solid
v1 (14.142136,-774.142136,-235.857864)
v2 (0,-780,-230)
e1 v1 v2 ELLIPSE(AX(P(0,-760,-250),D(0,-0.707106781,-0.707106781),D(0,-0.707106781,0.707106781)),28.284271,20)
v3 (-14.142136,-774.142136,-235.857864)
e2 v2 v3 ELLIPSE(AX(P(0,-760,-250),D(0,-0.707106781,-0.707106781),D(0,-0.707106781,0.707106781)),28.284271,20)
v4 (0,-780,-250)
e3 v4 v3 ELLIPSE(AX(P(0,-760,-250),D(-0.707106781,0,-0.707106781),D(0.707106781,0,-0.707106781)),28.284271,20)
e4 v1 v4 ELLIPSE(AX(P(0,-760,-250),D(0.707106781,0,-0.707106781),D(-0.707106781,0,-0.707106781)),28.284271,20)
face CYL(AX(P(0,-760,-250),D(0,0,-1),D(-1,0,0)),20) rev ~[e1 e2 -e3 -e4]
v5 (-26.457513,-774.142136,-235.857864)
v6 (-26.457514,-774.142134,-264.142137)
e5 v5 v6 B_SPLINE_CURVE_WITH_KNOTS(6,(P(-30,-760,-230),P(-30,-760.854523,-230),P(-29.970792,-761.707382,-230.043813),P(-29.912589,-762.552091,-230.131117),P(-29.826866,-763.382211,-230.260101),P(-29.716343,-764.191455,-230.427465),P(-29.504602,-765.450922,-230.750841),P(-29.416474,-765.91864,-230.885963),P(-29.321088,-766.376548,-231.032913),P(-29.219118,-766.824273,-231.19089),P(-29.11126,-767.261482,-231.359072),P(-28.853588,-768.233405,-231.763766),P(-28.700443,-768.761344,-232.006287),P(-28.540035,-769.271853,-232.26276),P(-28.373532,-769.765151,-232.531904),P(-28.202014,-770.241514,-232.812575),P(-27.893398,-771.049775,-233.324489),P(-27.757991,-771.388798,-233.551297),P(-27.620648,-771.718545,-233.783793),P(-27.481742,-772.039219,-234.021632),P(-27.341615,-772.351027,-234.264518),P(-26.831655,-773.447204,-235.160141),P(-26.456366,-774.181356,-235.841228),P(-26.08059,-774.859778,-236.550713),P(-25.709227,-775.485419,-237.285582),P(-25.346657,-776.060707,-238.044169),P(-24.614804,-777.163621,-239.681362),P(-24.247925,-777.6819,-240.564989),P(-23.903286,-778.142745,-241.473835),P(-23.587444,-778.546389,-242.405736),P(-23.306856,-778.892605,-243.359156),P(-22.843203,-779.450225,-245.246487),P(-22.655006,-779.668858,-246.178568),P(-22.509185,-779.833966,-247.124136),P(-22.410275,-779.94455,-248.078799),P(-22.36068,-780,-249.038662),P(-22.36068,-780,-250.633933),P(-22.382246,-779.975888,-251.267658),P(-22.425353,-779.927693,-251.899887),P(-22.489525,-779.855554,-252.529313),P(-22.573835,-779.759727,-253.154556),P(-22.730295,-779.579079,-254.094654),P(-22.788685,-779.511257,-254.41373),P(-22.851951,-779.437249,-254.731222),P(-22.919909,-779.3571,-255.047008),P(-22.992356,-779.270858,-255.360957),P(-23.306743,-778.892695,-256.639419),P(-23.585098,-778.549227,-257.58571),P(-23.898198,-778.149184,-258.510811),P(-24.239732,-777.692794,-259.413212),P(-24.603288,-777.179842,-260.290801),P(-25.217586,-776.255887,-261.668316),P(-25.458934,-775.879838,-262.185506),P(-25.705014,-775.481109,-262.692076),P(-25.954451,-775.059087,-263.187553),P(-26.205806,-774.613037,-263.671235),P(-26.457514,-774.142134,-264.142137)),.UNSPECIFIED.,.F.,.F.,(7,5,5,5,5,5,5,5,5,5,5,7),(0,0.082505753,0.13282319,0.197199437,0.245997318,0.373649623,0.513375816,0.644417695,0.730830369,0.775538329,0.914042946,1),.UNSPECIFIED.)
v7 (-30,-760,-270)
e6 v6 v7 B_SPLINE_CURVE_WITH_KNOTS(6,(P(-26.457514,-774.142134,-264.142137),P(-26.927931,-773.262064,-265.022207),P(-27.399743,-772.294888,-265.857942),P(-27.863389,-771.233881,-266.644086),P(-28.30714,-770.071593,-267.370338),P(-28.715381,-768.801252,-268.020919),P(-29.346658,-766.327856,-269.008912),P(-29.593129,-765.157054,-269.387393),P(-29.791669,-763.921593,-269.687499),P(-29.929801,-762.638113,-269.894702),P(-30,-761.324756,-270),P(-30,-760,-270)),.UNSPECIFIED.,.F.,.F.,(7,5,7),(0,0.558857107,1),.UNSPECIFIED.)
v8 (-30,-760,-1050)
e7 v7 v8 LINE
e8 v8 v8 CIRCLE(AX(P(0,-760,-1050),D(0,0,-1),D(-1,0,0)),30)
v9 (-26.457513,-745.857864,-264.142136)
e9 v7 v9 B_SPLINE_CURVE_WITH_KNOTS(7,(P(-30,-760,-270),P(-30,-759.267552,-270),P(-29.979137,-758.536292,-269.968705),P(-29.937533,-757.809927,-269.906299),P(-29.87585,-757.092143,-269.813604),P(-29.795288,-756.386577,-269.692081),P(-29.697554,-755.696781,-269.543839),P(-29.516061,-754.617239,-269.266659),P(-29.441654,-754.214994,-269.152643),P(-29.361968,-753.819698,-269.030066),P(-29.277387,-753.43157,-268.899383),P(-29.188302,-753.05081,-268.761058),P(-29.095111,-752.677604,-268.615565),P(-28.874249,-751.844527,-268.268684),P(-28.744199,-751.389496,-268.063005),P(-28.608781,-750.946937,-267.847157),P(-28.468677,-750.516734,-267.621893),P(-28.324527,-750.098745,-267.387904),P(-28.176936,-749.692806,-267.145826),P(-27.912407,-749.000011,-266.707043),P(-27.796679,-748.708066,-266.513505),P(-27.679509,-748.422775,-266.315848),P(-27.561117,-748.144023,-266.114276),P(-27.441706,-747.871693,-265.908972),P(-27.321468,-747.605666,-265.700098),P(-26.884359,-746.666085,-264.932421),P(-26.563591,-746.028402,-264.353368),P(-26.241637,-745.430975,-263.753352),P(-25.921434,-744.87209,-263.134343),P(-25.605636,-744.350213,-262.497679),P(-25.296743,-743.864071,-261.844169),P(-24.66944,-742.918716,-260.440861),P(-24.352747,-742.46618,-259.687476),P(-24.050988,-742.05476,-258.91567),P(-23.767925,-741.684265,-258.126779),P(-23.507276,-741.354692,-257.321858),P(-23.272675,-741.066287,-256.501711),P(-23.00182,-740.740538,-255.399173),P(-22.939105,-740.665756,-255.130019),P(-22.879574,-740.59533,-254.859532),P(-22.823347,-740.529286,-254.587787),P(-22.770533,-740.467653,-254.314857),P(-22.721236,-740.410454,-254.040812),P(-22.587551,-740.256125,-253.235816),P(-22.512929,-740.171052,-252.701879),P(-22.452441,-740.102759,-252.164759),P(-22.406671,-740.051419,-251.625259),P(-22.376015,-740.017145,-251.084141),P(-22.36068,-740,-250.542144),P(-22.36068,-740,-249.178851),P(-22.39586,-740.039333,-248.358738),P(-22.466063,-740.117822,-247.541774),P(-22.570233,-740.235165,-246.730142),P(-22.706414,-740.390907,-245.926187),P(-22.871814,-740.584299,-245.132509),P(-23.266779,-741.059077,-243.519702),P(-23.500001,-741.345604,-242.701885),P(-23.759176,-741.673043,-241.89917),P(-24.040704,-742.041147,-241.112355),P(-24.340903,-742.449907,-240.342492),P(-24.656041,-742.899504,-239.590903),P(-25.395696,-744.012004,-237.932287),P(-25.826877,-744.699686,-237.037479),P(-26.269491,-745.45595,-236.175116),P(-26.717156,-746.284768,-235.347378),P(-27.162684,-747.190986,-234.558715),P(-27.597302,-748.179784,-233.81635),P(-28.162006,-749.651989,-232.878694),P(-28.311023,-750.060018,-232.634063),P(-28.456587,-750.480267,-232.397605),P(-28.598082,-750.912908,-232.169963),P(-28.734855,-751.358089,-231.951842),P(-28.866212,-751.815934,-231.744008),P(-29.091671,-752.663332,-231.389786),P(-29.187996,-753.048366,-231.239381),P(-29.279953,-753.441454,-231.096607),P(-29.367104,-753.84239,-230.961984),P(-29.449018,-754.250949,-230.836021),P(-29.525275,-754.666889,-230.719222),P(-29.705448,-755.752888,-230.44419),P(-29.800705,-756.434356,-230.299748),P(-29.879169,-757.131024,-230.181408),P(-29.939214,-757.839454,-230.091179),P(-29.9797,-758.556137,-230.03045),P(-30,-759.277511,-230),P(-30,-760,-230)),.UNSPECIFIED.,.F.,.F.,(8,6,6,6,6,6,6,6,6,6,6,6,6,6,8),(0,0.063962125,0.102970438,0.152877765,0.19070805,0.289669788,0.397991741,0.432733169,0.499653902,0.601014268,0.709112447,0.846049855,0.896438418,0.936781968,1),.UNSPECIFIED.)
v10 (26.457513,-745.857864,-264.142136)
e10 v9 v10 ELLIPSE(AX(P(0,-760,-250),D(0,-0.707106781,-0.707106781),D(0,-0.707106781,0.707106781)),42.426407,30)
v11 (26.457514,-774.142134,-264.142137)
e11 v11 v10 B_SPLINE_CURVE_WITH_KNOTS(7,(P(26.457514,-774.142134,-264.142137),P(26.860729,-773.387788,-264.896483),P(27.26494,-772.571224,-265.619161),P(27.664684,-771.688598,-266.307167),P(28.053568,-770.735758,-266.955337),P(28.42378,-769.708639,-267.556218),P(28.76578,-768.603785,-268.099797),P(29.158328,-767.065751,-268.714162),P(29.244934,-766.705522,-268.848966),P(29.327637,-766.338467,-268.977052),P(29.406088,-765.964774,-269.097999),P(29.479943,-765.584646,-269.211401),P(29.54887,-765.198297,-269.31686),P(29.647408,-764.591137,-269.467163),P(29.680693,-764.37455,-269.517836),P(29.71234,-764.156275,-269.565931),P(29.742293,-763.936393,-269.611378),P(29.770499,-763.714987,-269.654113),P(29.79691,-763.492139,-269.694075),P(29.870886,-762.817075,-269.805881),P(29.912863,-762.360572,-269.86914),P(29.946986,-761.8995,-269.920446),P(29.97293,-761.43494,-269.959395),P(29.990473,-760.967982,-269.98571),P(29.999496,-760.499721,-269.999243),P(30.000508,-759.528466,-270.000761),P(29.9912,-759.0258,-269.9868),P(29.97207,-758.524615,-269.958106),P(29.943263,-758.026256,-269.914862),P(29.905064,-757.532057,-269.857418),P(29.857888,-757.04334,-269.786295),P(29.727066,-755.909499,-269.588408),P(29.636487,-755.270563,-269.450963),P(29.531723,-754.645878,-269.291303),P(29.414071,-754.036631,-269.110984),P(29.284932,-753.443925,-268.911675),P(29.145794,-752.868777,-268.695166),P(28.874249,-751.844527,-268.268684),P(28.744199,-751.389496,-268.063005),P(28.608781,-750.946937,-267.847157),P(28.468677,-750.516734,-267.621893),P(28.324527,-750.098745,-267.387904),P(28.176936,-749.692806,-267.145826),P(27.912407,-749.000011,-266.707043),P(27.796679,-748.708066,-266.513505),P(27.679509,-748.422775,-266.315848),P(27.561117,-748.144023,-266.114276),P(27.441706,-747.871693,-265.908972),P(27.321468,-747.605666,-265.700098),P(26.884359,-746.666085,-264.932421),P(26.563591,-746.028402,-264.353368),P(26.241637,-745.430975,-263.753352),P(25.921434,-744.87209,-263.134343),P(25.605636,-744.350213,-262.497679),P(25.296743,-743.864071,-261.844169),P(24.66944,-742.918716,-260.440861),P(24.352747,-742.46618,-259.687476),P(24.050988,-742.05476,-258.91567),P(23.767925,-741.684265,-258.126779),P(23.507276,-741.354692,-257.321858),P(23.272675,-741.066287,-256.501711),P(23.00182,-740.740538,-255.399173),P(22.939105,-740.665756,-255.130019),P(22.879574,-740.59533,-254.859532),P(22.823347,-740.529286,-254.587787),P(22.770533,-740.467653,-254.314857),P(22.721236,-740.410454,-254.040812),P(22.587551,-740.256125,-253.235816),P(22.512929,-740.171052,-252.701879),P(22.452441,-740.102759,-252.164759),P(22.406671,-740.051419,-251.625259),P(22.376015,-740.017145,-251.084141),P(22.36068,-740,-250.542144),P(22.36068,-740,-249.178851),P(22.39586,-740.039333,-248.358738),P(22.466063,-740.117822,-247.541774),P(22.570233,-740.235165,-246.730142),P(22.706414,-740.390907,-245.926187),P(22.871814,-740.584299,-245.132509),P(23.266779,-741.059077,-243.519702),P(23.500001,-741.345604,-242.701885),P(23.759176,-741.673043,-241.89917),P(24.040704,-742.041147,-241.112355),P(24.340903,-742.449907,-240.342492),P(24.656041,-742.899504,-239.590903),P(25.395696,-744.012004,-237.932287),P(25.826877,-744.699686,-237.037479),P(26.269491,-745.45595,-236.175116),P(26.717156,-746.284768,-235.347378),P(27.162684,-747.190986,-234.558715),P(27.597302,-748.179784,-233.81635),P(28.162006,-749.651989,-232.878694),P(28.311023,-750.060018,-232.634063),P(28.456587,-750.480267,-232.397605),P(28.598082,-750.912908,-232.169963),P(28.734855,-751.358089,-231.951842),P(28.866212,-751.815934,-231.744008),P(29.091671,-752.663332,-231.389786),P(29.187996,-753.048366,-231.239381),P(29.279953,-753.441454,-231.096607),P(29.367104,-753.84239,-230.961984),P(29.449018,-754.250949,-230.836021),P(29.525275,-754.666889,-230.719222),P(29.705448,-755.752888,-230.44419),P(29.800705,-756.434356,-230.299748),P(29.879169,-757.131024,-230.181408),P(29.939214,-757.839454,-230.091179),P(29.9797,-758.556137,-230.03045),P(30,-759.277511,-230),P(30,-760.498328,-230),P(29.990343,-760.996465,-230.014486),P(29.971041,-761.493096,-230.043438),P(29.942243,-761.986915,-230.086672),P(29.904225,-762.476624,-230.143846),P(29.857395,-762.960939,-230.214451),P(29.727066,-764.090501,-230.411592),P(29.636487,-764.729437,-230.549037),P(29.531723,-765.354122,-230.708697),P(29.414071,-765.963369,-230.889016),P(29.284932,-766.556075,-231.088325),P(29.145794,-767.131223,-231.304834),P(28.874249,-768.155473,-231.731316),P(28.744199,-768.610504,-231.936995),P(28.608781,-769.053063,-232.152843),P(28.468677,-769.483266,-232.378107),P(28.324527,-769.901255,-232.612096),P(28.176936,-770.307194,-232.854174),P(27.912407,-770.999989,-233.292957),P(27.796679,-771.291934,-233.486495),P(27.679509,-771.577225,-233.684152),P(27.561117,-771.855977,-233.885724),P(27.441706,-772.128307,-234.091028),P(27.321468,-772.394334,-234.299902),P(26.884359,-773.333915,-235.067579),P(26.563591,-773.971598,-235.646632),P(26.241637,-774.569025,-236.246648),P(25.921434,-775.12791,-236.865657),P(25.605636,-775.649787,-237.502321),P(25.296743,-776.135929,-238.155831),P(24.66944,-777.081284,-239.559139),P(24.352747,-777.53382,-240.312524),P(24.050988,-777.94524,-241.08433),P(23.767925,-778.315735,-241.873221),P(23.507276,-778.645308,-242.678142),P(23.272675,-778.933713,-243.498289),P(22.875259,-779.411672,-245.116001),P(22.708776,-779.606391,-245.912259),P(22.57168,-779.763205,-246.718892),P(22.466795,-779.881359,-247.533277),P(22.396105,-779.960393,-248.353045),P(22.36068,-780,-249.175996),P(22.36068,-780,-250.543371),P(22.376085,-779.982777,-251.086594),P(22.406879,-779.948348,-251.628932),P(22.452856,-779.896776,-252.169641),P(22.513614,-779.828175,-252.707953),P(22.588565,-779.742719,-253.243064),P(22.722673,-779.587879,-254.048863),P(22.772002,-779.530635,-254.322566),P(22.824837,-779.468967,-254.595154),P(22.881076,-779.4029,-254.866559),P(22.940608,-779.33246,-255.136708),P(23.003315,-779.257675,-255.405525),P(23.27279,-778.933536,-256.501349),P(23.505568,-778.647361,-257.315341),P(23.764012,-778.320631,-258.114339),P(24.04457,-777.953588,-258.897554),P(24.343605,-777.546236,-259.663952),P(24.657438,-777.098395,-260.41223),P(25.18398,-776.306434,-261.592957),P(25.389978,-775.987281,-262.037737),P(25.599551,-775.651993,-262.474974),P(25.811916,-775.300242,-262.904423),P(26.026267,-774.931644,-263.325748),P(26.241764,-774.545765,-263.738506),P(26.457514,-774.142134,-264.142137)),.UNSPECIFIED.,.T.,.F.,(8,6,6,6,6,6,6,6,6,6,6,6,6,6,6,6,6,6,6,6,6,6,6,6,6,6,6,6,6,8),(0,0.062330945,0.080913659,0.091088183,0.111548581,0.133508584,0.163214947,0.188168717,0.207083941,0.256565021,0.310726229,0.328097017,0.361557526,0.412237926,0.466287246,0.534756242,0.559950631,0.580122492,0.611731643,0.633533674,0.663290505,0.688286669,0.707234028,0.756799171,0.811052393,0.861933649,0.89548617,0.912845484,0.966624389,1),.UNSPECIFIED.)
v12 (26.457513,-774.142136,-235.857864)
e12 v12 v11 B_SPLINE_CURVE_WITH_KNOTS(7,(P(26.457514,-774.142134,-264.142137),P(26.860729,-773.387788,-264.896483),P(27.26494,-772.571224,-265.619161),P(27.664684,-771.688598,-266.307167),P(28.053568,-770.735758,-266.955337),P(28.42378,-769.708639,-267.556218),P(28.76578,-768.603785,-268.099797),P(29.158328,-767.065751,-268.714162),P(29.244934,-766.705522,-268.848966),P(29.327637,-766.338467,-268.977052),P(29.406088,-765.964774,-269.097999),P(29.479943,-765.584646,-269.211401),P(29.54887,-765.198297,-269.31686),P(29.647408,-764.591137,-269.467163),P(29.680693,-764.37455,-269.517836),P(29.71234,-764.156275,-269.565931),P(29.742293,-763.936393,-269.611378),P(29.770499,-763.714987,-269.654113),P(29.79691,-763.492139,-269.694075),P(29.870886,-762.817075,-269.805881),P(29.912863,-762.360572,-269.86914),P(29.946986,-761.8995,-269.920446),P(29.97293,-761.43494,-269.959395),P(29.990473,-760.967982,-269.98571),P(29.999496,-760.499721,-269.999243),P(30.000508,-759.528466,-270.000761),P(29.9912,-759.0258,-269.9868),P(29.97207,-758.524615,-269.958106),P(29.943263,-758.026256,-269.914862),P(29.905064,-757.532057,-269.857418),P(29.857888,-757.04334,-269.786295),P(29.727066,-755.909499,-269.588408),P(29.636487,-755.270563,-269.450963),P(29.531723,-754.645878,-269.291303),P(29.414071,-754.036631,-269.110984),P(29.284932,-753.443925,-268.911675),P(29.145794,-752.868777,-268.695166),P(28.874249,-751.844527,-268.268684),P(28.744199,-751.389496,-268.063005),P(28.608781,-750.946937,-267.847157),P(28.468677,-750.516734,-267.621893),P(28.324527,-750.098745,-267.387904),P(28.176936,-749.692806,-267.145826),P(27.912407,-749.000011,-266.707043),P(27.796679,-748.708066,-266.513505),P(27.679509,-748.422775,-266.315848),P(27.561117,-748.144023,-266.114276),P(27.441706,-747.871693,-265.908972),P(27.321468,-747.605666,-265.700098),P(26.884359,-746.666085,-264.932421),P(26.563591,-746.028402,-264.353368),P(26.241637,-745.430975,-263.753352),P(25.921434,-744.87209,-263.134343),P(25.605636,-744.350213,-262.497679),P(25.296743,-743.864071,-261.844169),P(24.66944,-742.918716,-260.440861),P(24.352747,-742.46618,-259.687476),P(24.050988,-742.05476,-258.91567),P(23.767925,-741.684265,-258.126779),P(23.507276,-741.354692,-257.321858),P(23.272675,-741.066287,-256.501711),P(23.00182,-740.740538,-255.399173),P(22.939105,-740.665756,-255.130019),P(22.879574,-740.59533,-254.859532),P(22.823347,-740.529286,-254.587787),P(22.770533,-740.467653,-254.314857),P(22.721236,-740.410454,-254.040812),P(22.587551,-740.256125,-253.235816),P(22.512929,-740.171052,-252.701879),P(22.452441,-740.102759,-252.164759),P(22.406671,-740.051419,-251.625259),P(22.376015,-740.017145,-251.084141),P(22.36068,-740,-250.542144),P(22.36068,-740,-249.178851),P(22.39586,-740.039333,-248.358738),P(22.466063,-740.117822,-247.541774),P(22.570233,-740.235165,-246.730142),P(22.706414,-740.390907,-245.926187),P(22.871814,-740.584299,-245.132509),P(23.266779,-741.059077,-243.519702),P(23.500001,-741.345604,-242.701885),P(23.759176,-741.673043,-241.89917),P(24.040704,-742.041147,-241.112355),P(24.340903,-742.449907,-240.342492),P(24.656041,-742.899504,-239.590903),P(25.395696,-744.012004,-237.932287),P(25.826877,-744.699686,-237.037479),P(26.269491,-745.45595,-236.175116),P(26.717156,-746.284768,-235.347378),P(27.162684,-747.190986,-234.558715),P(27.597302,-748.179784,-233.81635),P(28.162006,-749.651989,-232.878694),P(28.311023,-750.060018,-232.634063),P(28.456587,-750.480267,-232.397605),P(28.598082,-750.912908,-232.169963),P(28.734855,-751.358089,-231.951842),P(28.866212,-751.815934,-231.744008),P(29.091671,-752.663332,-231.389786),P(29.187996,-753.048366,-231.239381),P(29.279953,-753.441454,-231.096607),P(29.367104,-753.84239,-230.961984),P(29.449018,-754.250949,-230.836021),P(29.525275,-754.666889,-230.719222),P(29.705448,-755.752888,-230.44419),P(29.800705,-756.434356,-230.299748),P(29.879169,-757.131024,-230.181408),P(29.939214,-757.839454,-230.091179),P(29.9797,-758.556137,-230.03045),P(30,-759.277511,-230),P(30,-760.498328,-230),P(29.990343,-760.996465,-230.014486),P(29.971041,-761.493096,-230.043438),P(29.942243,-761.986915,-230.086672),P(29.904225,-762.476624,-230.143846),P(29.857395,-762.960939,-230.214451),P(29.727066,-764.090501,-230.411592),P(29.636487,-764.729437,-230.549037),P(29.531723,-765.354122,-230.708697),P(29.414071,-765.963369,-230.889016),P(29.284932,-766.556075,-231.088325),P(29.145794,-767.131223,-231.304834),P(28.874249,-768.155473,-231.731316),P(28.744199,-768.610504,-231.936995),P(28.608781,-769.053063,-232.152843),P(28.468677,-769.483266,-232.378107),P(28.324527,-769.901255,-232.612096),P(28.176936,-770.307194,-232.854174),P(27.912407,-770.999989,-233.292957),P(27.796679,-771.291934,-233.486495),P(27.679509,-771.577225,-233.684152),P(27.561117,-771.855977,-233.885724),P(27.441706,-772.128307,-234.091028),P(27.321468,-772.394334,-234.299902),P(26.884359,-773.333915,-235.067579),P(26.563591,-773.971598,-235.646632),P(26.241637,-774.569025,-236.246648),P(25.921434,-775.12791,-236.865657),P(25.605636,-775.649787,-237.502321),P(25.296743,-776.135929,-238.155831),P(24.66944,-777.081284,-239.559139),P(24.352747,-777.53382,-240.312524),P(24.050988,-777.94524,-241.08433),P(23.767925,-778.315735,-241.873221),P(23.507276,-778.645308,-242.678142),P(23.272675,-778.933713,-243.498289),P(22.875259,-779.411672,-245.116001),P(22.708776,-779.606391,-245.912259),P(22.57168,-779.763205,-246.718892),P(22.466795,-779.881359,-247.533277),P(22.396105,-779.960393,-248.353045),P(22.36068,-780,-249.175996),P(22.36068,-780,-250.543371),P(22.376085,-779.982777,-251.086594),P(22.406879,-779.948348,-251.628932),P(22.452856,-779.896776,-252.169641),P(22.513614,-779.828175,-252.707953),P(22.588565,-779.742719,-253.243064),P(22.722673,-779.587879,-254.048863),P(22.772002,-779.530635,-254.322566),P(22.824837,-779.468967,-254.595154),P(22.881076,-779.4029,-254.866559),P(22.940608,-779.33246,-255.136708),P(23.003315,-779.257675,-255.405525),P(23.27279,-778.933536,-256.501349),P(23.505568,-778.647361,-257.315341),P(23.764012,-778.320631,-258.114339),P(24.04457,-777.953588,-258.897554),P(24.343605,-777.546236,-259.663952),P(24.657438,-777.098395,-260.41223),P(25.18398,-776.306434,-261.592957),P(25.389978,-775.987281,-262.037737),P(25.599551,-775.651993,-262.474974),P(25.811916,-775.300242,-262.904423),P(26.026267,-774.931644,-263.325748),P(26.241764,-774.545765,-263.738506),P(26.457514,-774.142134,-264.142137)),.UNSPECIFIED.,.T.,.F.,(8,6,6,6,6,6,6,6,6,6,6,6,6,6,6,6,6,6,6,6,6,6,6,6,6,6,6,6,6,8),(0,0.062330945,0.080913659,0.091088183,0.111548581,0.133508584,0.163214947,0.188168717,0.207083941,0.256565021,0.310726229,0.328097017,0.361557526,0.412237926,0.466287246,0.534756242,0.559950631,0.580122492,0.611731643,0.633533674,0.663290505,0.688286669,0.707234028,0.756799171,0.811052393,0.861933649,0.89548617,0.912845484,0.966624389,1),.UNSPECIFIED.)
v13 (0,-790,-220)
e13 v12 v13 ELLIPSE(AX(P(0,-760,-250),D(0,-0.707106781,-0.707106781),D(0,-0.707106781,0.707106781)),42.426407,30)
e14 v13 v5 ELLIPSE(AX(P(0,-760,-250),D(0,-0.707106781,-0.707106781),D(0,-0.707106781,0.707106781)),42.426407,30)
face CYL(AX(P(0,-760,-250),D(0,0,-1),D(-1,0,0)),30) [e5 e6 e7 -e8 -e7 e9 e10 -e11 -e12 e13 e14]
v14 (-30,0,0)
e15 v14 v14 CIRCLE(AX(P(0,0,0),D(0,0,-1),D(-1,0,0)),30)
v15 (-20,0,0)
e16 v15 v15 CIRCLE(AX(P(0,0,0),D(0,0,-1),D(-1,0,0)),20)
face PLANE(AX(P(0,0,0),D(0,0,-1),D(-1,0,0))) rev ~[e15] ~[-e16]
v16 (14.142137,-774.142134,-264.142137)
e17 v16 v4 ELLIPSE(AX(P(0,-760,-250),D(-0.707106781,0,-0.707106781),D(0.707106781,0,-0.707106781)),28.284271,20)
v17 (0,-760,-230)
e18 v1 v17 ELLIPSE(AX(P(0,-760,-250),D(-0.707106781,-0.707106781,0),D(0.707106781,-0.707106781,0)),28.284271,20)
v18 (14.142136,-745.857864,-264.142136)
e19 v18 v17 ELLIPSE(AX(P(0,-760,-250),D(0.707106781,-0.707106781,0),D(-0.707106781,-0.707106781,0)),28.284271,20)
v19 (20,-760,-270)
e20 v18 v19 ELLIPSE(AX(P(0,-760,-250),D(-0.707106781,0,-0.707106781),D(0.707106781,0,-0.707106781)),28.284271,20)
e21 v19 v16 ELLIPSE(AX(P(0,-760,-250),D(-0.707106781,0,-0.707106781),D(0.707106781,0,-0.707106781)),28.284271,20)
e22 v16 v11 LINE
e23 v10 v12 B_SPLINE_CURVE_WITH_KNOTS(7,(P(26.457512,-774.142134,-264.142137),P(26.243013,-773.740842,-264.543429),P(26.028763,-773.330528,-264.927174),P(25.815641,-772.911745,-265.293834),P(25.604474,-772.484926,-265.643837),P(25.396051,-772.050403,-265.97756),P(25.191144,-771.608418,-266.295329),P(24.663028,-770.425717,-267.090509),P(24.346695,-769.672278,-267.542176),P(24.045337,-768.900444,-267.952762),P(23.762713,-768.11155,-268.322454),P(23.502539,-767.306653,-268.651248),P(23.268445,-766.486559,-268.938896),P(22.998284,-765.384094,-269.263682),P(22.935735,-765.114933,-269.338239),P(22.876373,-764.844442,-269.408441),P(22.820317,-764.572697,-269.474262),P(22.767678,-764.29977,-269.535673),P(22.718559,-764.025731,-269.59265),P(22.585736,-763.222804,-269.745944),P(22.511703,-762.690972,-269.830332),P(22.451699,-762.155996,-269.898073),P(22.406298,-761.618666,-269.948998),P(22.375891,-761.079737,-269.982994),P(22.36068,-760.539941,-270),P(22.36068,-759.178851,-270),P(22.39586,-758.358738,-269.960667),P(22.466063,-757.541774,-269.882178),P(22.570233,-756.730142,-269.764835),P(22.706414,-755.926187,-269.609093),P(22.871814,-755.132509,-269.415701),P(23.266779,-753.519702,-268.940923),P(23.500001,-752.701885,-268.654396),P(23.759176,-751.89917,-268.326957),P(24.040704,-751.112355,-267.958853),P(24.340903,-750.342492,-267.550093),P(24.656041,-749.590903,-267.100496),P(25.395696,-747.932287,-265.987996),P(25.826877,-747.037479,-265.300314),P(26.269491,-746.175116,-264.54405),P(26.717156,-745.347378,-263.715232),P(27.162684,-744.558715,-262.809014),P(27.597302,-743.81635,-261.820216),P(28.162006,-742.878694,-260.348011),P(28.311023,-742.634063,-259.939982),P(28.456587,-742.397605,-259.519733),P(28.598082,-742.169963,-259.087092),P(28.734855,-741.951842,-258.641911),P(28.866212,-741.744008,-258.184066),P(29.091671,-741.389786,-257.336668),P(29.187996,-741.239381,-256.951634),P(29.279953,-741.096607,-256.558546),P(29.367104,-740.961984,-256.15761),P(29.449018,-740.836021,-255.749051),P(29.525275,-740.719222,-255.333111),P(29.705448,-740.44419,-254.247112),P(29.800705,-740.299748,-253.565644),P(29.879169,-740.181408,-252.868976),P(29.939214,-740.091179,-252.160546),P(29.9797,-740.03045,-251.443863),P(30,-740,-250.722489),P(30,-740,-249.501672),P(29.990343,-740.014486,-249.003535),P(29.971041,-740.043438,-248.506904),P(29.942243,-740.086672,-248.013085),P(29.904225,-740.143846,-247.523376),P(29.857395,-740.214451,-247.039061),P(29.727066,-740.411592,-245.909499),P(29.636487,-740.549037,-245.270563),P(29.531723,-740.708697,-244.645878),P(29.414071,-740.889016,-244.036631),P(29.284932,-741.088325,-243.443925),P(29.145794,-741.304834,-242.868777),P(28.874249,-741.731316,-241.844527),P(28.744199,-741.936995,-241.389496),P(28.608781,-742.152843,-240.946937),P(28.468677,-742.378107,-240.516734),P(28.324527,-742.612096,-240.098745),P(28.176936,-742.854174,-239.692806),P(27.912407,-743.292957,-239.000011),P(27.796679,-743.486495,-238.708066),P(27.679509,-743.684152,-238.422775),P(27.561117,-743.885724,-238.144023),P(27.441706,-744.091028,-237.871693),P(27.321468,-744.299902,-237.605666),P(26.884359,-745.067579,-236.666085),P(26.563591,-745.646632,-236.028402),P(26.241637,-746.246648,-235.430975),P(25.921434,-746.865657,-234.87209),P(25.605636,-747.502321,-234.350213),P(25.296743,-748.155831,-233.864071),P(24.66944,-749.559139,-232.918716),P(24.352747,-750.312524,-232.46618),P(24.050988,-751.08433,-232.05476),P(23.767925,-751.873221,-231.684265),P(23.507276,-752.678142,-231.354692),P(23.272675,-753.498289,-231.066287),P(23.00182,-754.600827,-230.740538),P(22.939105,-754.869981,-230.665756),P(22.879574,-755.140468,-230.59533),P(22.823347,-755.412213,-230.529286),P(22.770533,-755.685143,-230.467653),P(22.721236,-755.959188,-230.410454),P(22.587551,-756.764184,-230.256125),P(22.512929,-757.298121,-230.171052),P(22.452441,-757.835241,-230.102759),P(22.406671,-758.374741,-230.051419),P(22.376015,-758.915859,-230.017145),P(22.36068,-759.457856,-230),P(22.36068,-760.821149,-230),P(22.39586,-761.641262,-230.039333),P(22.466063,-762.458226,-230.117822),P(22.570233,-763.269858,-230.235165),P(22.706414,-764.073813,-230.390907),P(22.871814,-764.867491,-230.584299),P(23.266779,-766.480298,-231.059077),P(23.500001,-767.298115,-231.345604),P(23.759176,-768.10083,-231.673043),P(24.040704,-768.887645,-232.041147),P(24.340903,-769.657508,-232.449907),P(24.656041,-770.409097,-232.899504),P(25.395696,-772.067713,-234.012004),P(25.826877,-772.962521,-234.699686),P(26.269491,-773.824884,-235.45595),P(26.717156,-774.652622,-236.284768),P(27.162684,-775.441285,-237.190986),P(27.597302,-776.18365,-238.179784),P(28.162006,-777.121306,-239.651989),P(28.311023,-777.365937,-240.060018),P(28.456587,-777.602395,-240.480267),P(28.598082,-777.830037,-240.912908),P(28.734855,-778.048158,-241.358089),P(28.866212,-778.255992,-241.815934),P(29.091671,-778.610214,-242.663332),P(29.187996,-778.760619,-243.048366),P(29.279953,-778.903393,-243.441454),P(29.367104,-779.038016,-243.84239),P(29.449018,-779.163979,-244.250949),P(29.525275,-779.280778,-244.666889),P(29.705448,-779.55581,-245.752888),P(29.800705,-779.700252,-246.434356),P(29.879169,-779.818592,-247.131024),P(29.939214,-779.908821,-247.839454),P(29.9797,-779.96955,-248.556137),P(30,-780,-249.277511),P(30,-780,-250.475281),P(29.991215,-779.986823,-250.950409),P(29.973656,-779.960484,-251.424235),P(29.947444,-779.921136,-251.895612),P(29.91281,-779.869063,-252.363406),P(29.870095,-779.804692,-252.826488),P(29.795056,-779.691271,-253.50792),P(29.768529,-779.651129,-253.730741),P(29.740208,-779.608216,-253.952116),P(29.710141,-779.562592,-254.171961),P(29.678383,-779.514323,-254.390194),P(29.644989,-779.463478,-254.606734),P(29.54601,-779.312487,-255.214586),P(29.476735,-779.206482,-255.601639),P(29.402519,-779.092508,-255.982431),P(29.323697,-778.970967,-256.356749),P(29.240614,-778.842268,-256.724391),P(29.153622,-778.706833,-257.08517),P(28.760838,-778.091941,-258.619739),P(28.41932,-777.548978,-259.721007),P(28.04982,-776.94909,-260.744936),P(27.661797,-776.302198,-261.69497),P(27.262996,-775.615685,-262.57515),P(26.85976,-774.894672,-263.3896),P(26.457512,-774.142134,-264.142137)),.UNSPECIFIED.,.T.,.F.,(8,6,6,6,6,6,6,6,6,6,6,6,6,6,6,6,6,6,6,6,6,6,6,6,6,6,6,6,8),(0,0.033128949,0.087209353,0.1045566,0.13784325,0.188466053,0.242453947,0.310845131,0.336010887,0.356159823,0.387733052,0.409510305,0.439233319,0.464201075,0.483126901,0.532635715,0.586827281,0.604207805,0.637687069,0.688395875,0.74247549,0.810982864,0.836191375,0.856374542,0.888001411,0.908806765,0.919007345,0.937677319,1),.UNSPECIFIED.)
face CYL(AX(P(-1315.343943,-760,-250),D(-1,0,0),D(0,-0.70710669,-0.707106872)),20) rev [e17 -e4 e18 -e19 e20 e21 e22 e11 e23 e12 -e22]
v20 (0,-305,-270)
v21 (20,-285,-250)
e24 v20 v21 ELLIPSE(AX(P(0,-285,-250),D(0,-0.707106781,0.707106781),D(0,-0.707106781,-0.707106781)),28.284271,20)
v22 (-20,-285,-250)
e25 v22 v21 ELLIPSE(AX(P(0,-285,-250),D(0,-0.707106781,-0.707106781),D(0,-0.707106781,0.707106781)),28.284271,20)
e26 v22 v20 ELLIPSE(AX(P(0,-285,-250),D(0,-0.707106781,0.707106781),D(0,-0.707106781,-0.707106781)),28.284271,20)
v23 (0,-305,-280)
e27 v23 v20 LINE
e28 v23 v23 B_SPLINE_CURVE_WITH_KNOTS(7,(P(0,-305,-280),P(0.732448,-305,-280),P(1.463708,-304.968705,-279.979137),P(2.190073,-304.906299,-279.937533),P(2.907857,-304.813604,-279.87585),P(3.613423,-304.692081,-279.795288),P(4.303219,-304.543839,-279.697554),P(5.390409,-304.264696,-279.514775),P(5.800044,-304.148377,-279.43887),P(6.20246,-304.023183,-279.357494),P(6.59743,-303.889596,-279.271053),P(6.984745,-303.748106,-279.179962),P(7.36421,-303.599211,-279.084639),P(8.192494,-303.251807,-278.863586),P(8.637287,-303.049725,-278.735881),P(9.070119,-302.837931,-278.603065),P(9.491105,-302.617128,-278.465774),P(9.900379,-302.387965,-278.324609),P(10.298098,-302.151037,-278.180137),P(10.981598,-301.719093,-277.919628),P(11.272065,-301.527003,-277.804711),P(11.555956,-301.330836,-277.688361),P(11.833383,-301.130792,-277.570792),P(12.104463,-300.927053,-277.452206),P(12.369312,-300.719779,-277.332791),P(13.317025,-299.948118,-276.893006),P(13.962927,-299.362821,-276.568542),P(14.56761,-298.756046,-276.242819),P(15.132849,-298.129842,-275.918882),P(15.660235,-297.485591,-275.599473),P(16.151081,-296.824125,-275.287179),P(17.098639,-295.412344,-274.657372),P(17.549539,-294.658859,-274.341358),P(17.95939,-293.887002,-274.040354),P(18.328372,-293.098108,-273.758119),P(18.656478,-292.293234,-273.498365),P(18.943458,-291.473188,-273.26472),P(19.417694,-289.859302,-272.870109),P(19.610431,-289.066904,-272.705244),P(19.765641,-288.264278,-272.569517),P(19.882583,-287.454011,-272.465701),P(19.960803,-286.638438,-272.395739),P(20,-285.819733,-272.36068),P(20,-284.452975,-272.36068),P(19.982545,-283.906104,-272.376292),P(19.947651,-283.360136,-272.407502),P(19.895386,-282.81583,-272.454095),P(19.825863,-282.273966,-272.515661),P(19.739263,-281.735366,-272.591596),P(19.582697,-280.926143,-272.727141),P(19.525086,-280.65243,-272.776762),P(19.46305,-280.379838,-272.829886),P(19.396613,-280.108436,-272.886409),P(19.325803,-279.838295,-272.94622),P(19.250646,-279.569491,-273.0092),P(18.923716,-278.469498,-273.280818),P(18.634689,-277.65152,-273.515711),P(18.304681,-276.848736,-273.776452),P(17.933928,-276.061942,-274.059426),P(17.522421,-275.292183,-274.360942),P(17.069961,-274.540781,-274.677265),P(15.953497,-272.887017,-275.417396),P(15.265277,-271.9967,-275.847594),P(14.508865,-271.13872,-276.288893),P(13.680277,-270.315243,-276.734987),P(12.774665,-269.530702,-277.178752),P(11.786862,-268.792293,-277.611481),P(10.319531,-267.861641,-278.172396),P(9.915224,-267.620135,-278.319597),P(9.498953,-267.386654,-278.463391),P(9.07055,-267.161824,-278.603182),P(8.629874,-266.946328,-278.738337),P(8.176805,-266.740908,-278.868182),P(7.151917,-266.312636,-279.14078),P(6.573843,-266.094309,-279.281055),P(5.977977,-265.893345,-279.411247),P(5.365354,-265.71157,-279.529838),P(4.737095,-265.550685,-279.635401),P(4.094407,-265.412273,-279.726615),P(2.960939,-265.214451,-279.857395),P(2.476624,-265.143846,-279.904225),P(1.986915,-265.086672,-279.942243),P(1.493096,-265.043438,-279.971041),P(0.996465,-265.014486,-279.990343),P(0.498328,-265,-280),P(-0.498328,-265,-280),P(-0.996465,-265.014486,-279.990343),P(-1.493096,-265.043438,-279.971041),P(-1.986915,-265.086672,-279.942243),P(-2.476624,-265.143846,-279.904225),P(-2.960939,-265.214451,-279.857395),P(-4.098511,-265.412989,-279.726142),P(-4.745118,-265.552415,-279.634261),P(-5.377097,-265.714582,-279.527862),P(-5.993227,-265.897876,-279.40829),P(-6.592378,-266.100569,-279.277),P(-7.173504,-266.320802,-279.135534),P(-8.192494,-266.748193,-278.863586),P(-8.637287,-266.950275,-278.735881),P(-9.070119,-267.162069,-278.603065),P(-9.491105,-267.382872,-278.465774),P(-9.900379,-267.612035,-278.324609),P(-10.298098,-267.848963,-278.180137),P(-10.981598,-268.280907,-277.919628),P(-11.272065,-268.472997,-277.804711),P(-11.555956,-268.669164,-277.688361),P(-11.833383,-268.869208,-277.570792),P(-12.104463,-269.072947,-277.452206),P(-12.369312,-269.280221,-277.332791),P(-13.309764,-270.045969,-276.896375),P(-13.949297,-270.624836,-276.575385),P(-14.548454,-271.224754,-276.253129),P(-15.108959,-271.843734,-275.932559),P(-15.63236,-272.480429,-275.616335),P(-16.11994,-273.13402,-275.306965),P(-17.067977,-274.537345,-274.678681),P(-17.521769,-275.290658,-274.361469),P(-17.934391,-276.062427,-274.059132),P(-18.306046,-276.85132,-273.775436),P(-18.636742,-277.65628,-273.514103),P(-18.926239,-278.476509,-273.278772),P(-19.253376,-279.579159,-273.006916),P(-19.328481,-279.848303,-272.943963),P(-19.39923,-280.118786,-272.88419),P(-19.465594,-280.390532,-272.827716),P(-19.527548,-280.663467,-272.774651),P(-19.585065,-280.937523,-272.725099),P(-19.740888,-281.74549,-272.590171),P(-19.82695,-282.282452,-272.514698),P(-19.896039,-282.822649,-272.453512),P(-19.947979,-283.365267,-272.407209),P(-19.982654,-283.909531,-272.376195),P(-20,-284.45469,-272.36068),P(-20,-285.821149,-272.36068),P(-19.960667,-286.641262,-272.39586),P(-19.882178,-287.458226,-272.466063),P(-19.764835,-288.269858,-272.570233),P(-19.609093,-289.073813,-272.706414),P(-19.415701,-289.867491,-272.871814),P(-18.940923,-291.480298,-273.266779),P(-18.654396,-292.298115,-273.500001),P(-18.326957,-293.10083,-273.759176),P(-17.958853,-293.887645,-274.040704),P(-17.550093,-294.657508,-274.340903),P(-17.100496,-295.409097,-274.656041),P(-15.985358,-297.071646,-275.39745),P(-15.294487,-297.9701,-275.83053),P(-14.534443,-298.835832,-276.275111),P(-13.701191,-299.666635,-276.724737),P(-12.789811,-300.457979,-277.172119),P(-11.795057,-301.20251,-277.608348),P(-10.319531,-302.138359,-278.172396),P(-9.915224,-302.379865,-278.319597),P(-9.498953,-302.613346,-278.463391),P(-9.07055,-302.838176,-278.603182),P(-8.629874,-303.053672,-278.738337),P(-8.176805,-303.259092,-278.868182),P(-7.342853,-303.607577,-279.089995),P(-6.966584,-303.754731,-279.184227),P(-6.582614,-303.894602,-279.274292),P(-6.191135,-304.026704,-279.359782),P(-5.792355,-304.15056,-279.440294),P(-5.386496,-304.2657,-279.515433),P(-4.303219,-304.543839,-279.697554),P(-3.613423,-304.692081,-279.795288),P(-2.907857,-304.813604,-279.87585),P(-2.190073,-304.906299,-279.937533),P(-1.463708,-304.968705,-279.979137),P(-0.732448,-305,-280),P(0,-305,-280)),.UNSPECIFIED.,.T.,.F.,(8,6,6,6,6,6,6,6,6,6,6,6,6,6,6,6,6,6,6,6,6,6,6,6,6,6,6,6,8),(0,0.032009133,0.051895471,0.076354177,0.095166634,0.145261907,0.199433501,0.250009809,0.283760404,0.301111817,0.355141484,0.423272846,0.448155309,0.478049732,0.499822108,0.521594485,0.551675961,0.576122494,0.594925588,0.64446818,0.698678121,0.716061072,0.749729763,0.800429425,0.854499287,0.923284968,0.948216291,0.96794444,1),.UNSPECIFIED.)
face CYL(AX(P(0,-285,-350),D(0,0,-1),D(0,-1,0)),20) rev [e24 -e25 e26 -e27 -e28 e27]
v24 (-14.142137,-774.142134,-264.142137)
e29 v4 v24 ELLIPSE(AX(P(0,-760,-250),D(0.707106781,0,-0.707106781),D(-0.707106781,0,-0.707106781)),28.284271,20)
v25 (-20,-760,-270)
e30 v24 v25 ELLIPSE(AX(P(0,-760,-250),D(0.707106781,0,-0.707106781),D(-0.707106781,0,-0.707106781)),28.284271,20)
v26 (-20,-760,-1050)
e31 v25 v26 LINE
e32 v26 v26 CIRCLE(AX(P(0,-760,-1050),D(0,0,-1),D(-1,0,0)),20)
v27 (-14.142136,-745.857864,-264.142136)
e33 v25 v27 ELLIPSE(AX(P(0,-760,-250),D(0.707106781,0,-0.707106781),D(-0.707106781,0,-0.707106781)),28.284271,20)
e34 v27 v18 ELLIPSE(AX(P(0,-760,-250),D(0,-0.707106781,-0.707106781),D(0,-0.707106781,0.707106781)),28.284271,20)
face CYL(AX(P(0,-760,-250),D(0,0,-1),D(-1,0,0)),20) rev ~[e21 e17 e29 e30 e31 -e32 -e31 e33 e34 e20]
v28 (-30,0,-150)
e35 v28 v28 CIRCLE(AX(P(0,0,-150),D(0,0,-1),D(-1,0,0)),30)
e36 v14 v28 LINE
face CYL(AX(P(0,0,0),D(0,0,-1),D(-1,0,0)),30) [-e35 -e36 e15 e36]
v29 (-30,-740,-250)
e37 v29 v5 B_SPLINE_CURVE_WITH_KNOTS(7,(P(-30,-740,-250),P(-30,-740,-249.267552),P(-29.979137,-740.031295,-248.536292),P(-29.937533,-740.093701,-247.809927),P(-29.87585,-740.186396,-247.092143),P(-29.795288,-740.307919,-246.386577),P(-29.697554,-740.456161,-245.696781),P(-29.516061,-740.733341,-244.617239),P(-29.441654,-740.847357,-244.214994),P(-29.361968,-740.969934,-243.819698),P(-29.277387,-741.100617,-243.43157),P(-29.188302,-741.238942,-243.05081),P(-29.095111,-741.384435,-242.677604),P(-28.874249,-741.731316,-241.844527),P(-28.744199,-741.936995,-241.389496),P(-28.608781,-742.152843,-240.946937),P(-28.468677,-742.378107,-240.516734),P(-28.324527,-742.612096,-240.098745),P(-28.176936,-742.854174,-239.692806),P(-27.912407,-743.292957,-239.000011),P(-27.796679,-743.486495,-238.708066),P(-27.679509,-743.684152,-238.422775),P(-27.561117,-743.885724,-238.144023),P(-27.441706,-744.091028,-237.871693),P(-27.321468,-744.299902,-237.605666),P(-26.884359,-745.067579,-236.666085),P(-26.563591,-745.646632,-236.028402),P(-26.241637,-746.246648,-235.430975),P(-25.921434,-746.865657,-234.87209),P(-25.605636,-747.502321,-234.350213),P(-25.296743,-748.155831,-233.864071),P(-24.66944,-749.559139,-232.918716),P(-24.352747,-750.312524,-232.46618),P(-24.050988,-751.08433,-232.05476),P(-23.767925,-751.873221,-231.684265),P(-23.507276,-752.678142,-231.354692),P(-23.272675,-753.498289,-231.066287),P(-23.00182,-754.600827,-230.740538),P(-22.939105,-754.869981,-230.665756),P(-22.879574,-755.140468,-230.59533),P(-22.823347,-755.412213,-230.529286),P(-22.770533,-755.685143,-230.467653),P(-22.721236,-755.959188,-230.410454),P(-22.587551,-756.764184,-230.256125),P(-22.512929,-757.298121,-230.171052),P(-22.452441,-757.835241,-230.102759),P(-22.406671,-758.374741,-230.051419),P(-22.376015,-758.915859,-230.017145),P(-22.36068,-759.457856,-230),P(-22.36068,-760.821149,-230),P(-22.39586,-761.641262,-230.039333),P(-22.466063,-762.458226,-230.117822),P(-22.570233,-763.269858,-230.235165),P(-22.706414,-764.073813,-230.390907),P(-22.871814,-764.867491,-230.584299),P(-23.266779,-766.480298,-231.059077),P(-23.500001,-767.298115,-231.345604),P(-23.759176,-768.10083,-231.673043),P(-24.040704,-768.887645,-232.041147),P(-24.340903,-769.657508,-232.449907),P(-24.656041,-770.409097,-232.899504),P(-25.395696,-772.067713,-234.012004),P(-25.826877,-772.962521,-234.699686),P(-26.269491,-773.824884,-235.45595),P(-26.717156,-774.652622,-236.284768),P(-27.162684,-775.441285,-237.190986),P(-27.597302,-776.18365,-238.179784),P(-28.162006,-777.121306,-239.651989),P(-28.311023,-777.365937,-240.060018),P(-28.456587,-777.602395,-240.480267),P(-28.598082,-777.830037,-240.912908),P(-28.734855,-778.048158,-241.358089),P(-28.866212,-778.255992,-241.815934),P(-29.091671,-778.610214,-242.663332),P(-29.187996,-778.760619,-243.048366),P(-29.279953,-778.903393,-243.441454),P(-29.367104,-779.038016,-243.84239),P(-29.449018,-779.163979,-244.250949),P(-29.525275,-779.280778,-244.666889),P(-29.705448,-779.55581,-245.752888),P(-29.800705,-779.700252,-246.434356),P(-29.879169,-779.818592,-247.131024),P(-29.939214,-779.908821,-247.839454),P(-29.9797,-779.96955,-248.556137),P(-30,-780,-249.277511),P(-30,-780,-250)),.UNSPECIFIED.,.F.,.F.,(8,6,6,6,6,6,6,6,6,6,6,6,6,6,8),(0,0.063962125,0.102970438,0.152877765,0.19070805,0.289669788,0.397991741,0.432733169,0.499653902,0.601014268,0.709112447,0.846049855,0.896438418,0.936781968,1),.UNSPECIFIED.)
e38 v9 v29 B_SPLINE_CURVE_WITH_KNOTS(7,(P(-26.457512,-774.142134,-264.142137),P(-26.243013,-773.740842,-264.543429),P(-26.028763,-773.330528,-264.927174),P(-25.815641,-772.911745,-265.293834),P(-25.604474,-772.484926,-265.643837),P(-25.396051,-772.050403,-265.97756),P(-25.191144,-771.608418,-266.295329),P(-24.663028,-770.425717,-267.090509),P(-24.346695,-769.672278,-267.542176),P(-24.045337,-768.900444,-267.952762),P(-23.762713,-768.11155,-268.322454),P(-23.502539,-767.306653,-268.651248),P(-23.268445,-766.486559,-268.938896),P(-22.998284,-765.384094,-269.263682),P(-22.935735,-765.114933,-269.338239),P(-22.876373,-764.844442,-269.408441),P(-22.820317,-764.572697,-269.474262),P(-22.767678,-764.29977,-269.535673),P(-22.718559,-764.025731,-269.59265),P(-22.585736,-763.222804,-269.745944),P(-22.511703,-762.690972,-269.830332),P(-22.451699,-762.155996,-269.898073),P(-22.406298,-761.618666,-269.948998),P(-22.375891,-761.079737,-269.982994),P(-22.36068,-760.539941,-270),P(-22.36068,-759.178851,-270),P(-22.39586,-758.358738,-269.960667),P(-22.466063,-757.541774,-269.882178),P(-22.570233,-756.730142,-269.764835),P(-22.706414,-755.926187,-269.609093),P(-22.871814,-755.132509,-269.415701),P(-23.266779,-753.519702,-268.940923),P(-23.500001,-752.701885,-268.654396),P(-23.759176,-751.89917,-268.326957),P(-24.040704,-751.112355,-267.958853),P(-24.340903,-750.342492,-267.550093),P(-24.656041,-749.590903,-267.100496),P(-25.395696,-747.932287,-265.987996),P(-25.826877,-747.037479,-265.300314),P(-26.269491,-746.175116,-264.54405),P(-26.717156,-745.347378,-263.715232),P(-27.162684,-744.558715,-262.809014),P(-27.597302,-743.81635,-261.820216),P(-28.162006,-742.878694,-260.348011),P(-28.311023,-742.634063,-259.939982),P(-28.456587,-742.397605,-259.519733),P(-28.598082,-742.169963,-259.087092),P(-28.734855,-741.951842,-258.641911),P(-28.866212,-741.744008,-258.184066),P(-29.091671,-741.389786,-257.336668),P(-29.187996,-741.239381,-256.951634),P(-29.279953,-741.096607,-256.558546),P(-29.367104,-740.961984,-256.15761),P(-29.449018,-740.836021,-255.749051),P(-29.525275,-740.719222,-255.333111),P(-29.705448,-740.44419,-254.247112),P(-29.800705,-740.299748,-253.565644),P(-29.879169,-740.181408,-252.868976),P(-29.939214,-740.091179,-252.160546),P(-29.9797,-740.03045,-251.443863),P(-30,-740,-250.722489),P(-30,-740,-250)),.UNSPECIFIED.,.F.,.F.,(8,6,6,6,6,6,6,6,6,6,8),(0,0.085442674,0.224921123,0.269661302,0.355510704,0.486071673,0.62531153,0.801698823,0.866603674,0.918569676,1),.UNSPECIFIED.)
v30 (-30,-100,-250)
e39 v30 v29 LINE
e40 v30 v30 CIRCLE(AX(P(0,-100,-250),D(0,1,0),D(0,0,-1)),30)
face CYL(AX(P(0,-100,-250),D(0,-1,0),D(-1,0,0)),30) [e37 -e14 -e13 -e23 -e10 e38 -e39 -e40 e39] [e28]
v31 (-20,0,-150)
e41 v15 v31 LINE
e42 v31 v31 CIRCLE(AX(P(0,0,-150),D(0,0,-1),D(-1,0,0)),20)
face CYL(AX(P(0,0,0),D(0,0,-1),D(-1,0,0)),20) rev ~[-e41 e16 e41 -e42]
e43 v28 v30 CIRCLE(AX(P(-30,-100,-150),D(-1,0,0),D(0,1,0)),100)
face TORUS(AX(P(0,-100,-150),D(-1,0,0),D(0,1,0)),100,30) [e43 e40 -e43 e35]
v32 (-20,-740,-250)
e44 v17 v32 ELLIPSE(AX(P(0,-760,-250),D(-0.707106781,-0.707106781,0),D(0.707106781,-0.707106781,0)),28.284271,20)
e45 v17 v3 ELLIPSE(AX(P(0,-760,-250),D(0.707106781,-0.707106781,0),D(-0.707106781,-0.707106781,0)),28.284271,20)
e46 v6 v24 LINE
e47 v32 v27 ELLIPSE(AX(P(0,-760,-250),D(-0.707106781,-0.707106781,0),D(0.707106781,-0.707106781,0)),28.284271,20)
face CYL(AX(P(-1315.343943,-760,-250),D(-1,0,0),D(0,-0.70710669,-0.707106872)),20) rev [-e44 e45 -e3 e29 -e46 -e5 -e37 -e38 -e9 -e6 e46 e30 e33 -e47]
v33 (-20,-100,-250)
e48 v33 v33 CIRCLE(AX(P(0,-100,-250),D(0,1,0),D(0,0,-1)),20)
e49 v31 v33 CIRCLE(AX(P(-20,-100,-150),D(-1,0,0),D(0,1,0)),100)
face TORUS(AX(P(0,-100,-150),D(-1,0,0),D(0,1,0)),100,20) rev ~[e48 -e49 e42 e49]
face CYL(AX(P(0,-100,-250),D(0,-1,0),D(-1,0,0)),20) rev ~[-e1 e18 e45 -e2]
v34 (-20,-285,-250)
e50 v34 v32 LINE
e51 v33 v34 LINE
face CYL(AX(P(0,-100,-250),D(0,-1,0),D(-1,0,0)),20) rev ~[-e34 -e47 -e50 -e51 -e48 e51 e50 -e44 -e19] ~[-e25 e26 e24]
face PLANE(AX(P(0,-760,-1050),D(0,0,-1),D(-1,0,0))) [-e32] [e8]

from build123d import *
from OCP.BRepAlgoAPI import BRepAlgoAPI_Cut
from OCP.TopTools import TopTools_ListOfShape

# Parameters (mm, degrees)
SWEEP_THIN1_PROFILE_R   = 30
SWEEP_THIN1_PROFILE_R_2 = 20
CUT_EXTRUDE1_DEPTH      = 1315.343942812
CUT_EXTRUDE1_DEPTH_BACK = 1315.343942812
SKETCH18_R              = 20
SKETCH19_R              = 20
CUT_EXTRUDE2_DEPTH      = 100


with BuildPart() as part:
    # Sweep-Thin1: sweep along a path in Sketch1
    with BuildLine(Plane(origin=(0, 0, 0), x_dir=(0, 0, -1), z_dir=(1, 0, 0))) as sweep_thin1_path:
        Line((0, 0), (150, 0))
        ThreePointArc((150, 0), (220.710678119, -29.289321881), (250, -100))
        Line((250, -100), (250, -760))
        Line((250, -760), (1050, -760))
    # Sweep-Thin1 profile (on start of the path) → Sweep-Thin1 (sweep)
    with BuildSketch(Plane(origin=(0, 0, 0), x_dir=(-1, 0, 0), z_dir=(0, 0, -1))):
        Circle(SWEEP_THIN1_PROFILE_R)
        Circle(SWEEP_THIN1_PROFILE_R_2, mode=Mode.SUBTRACT)
    sweep(path=sweep_thin1_path.line, transition=Transition.RIGHT)

    # Sketch18 → Cut-Extrude1 (cut, two sides: drawn at the far end of the back side and taken through both)
    with BuildSketch(Plane(origin=(0, 0, 0), x_dir=(0, 0, -1), z_dir=(1, 0, 0)).offset(-CUT_EXTRUDE1_DEPTH_BACK)):
        with Locations((250, -760)):
            Circle(SKETCH18_R)
    extrude(amount=CUT_EXTRUDE1_DEPTH + CUT_EXTRUDE1_DEPTH_BACK, mode=Mode.SUBTRACT)


with BuildPart() as cut_extrude2_tool:
    # Sketch19 → Cut-Extrude2 (new body)
    with BuildSketch(Plane.XY.offset(-350)):
        with Locations((0, -285)):
            Circle(SKETCH19_R)
    extrude(amount=CUT_EXTRUDE2_DEPTH)


with BuildPart() as part_1:
    add(part.part)

    # Cut-Extrude2: cut by cut_extrude2_tool, with a tolerance
    cut_extrude2_stock = TopTools_ListOfShape()
    cut_extrude2_stock.Append(part_1.part.wrapped)
    cut_extrude2_tools = TopTools_ListOfShape()
    cut_extrude2_tools.Append(cut_extrude2_tool.part.wrapped)
    cut_extrude2_cut = BRepAlgoAPI_Cut()
    cut_extrude2_cut.SetArguments(cut_extrude2_stock)
    cut_extrude2_cut.SetTools(cut_extrude2_tools)
    cut_extrude2_cut.SetFuzzyValue(0.00001)
    cut_extrude2_cut.Build()
    add(Compound.cast(cut_extrude2_cut.Shape()).solids(), mode=Mode.REPLACE)


solid = part_1.part
